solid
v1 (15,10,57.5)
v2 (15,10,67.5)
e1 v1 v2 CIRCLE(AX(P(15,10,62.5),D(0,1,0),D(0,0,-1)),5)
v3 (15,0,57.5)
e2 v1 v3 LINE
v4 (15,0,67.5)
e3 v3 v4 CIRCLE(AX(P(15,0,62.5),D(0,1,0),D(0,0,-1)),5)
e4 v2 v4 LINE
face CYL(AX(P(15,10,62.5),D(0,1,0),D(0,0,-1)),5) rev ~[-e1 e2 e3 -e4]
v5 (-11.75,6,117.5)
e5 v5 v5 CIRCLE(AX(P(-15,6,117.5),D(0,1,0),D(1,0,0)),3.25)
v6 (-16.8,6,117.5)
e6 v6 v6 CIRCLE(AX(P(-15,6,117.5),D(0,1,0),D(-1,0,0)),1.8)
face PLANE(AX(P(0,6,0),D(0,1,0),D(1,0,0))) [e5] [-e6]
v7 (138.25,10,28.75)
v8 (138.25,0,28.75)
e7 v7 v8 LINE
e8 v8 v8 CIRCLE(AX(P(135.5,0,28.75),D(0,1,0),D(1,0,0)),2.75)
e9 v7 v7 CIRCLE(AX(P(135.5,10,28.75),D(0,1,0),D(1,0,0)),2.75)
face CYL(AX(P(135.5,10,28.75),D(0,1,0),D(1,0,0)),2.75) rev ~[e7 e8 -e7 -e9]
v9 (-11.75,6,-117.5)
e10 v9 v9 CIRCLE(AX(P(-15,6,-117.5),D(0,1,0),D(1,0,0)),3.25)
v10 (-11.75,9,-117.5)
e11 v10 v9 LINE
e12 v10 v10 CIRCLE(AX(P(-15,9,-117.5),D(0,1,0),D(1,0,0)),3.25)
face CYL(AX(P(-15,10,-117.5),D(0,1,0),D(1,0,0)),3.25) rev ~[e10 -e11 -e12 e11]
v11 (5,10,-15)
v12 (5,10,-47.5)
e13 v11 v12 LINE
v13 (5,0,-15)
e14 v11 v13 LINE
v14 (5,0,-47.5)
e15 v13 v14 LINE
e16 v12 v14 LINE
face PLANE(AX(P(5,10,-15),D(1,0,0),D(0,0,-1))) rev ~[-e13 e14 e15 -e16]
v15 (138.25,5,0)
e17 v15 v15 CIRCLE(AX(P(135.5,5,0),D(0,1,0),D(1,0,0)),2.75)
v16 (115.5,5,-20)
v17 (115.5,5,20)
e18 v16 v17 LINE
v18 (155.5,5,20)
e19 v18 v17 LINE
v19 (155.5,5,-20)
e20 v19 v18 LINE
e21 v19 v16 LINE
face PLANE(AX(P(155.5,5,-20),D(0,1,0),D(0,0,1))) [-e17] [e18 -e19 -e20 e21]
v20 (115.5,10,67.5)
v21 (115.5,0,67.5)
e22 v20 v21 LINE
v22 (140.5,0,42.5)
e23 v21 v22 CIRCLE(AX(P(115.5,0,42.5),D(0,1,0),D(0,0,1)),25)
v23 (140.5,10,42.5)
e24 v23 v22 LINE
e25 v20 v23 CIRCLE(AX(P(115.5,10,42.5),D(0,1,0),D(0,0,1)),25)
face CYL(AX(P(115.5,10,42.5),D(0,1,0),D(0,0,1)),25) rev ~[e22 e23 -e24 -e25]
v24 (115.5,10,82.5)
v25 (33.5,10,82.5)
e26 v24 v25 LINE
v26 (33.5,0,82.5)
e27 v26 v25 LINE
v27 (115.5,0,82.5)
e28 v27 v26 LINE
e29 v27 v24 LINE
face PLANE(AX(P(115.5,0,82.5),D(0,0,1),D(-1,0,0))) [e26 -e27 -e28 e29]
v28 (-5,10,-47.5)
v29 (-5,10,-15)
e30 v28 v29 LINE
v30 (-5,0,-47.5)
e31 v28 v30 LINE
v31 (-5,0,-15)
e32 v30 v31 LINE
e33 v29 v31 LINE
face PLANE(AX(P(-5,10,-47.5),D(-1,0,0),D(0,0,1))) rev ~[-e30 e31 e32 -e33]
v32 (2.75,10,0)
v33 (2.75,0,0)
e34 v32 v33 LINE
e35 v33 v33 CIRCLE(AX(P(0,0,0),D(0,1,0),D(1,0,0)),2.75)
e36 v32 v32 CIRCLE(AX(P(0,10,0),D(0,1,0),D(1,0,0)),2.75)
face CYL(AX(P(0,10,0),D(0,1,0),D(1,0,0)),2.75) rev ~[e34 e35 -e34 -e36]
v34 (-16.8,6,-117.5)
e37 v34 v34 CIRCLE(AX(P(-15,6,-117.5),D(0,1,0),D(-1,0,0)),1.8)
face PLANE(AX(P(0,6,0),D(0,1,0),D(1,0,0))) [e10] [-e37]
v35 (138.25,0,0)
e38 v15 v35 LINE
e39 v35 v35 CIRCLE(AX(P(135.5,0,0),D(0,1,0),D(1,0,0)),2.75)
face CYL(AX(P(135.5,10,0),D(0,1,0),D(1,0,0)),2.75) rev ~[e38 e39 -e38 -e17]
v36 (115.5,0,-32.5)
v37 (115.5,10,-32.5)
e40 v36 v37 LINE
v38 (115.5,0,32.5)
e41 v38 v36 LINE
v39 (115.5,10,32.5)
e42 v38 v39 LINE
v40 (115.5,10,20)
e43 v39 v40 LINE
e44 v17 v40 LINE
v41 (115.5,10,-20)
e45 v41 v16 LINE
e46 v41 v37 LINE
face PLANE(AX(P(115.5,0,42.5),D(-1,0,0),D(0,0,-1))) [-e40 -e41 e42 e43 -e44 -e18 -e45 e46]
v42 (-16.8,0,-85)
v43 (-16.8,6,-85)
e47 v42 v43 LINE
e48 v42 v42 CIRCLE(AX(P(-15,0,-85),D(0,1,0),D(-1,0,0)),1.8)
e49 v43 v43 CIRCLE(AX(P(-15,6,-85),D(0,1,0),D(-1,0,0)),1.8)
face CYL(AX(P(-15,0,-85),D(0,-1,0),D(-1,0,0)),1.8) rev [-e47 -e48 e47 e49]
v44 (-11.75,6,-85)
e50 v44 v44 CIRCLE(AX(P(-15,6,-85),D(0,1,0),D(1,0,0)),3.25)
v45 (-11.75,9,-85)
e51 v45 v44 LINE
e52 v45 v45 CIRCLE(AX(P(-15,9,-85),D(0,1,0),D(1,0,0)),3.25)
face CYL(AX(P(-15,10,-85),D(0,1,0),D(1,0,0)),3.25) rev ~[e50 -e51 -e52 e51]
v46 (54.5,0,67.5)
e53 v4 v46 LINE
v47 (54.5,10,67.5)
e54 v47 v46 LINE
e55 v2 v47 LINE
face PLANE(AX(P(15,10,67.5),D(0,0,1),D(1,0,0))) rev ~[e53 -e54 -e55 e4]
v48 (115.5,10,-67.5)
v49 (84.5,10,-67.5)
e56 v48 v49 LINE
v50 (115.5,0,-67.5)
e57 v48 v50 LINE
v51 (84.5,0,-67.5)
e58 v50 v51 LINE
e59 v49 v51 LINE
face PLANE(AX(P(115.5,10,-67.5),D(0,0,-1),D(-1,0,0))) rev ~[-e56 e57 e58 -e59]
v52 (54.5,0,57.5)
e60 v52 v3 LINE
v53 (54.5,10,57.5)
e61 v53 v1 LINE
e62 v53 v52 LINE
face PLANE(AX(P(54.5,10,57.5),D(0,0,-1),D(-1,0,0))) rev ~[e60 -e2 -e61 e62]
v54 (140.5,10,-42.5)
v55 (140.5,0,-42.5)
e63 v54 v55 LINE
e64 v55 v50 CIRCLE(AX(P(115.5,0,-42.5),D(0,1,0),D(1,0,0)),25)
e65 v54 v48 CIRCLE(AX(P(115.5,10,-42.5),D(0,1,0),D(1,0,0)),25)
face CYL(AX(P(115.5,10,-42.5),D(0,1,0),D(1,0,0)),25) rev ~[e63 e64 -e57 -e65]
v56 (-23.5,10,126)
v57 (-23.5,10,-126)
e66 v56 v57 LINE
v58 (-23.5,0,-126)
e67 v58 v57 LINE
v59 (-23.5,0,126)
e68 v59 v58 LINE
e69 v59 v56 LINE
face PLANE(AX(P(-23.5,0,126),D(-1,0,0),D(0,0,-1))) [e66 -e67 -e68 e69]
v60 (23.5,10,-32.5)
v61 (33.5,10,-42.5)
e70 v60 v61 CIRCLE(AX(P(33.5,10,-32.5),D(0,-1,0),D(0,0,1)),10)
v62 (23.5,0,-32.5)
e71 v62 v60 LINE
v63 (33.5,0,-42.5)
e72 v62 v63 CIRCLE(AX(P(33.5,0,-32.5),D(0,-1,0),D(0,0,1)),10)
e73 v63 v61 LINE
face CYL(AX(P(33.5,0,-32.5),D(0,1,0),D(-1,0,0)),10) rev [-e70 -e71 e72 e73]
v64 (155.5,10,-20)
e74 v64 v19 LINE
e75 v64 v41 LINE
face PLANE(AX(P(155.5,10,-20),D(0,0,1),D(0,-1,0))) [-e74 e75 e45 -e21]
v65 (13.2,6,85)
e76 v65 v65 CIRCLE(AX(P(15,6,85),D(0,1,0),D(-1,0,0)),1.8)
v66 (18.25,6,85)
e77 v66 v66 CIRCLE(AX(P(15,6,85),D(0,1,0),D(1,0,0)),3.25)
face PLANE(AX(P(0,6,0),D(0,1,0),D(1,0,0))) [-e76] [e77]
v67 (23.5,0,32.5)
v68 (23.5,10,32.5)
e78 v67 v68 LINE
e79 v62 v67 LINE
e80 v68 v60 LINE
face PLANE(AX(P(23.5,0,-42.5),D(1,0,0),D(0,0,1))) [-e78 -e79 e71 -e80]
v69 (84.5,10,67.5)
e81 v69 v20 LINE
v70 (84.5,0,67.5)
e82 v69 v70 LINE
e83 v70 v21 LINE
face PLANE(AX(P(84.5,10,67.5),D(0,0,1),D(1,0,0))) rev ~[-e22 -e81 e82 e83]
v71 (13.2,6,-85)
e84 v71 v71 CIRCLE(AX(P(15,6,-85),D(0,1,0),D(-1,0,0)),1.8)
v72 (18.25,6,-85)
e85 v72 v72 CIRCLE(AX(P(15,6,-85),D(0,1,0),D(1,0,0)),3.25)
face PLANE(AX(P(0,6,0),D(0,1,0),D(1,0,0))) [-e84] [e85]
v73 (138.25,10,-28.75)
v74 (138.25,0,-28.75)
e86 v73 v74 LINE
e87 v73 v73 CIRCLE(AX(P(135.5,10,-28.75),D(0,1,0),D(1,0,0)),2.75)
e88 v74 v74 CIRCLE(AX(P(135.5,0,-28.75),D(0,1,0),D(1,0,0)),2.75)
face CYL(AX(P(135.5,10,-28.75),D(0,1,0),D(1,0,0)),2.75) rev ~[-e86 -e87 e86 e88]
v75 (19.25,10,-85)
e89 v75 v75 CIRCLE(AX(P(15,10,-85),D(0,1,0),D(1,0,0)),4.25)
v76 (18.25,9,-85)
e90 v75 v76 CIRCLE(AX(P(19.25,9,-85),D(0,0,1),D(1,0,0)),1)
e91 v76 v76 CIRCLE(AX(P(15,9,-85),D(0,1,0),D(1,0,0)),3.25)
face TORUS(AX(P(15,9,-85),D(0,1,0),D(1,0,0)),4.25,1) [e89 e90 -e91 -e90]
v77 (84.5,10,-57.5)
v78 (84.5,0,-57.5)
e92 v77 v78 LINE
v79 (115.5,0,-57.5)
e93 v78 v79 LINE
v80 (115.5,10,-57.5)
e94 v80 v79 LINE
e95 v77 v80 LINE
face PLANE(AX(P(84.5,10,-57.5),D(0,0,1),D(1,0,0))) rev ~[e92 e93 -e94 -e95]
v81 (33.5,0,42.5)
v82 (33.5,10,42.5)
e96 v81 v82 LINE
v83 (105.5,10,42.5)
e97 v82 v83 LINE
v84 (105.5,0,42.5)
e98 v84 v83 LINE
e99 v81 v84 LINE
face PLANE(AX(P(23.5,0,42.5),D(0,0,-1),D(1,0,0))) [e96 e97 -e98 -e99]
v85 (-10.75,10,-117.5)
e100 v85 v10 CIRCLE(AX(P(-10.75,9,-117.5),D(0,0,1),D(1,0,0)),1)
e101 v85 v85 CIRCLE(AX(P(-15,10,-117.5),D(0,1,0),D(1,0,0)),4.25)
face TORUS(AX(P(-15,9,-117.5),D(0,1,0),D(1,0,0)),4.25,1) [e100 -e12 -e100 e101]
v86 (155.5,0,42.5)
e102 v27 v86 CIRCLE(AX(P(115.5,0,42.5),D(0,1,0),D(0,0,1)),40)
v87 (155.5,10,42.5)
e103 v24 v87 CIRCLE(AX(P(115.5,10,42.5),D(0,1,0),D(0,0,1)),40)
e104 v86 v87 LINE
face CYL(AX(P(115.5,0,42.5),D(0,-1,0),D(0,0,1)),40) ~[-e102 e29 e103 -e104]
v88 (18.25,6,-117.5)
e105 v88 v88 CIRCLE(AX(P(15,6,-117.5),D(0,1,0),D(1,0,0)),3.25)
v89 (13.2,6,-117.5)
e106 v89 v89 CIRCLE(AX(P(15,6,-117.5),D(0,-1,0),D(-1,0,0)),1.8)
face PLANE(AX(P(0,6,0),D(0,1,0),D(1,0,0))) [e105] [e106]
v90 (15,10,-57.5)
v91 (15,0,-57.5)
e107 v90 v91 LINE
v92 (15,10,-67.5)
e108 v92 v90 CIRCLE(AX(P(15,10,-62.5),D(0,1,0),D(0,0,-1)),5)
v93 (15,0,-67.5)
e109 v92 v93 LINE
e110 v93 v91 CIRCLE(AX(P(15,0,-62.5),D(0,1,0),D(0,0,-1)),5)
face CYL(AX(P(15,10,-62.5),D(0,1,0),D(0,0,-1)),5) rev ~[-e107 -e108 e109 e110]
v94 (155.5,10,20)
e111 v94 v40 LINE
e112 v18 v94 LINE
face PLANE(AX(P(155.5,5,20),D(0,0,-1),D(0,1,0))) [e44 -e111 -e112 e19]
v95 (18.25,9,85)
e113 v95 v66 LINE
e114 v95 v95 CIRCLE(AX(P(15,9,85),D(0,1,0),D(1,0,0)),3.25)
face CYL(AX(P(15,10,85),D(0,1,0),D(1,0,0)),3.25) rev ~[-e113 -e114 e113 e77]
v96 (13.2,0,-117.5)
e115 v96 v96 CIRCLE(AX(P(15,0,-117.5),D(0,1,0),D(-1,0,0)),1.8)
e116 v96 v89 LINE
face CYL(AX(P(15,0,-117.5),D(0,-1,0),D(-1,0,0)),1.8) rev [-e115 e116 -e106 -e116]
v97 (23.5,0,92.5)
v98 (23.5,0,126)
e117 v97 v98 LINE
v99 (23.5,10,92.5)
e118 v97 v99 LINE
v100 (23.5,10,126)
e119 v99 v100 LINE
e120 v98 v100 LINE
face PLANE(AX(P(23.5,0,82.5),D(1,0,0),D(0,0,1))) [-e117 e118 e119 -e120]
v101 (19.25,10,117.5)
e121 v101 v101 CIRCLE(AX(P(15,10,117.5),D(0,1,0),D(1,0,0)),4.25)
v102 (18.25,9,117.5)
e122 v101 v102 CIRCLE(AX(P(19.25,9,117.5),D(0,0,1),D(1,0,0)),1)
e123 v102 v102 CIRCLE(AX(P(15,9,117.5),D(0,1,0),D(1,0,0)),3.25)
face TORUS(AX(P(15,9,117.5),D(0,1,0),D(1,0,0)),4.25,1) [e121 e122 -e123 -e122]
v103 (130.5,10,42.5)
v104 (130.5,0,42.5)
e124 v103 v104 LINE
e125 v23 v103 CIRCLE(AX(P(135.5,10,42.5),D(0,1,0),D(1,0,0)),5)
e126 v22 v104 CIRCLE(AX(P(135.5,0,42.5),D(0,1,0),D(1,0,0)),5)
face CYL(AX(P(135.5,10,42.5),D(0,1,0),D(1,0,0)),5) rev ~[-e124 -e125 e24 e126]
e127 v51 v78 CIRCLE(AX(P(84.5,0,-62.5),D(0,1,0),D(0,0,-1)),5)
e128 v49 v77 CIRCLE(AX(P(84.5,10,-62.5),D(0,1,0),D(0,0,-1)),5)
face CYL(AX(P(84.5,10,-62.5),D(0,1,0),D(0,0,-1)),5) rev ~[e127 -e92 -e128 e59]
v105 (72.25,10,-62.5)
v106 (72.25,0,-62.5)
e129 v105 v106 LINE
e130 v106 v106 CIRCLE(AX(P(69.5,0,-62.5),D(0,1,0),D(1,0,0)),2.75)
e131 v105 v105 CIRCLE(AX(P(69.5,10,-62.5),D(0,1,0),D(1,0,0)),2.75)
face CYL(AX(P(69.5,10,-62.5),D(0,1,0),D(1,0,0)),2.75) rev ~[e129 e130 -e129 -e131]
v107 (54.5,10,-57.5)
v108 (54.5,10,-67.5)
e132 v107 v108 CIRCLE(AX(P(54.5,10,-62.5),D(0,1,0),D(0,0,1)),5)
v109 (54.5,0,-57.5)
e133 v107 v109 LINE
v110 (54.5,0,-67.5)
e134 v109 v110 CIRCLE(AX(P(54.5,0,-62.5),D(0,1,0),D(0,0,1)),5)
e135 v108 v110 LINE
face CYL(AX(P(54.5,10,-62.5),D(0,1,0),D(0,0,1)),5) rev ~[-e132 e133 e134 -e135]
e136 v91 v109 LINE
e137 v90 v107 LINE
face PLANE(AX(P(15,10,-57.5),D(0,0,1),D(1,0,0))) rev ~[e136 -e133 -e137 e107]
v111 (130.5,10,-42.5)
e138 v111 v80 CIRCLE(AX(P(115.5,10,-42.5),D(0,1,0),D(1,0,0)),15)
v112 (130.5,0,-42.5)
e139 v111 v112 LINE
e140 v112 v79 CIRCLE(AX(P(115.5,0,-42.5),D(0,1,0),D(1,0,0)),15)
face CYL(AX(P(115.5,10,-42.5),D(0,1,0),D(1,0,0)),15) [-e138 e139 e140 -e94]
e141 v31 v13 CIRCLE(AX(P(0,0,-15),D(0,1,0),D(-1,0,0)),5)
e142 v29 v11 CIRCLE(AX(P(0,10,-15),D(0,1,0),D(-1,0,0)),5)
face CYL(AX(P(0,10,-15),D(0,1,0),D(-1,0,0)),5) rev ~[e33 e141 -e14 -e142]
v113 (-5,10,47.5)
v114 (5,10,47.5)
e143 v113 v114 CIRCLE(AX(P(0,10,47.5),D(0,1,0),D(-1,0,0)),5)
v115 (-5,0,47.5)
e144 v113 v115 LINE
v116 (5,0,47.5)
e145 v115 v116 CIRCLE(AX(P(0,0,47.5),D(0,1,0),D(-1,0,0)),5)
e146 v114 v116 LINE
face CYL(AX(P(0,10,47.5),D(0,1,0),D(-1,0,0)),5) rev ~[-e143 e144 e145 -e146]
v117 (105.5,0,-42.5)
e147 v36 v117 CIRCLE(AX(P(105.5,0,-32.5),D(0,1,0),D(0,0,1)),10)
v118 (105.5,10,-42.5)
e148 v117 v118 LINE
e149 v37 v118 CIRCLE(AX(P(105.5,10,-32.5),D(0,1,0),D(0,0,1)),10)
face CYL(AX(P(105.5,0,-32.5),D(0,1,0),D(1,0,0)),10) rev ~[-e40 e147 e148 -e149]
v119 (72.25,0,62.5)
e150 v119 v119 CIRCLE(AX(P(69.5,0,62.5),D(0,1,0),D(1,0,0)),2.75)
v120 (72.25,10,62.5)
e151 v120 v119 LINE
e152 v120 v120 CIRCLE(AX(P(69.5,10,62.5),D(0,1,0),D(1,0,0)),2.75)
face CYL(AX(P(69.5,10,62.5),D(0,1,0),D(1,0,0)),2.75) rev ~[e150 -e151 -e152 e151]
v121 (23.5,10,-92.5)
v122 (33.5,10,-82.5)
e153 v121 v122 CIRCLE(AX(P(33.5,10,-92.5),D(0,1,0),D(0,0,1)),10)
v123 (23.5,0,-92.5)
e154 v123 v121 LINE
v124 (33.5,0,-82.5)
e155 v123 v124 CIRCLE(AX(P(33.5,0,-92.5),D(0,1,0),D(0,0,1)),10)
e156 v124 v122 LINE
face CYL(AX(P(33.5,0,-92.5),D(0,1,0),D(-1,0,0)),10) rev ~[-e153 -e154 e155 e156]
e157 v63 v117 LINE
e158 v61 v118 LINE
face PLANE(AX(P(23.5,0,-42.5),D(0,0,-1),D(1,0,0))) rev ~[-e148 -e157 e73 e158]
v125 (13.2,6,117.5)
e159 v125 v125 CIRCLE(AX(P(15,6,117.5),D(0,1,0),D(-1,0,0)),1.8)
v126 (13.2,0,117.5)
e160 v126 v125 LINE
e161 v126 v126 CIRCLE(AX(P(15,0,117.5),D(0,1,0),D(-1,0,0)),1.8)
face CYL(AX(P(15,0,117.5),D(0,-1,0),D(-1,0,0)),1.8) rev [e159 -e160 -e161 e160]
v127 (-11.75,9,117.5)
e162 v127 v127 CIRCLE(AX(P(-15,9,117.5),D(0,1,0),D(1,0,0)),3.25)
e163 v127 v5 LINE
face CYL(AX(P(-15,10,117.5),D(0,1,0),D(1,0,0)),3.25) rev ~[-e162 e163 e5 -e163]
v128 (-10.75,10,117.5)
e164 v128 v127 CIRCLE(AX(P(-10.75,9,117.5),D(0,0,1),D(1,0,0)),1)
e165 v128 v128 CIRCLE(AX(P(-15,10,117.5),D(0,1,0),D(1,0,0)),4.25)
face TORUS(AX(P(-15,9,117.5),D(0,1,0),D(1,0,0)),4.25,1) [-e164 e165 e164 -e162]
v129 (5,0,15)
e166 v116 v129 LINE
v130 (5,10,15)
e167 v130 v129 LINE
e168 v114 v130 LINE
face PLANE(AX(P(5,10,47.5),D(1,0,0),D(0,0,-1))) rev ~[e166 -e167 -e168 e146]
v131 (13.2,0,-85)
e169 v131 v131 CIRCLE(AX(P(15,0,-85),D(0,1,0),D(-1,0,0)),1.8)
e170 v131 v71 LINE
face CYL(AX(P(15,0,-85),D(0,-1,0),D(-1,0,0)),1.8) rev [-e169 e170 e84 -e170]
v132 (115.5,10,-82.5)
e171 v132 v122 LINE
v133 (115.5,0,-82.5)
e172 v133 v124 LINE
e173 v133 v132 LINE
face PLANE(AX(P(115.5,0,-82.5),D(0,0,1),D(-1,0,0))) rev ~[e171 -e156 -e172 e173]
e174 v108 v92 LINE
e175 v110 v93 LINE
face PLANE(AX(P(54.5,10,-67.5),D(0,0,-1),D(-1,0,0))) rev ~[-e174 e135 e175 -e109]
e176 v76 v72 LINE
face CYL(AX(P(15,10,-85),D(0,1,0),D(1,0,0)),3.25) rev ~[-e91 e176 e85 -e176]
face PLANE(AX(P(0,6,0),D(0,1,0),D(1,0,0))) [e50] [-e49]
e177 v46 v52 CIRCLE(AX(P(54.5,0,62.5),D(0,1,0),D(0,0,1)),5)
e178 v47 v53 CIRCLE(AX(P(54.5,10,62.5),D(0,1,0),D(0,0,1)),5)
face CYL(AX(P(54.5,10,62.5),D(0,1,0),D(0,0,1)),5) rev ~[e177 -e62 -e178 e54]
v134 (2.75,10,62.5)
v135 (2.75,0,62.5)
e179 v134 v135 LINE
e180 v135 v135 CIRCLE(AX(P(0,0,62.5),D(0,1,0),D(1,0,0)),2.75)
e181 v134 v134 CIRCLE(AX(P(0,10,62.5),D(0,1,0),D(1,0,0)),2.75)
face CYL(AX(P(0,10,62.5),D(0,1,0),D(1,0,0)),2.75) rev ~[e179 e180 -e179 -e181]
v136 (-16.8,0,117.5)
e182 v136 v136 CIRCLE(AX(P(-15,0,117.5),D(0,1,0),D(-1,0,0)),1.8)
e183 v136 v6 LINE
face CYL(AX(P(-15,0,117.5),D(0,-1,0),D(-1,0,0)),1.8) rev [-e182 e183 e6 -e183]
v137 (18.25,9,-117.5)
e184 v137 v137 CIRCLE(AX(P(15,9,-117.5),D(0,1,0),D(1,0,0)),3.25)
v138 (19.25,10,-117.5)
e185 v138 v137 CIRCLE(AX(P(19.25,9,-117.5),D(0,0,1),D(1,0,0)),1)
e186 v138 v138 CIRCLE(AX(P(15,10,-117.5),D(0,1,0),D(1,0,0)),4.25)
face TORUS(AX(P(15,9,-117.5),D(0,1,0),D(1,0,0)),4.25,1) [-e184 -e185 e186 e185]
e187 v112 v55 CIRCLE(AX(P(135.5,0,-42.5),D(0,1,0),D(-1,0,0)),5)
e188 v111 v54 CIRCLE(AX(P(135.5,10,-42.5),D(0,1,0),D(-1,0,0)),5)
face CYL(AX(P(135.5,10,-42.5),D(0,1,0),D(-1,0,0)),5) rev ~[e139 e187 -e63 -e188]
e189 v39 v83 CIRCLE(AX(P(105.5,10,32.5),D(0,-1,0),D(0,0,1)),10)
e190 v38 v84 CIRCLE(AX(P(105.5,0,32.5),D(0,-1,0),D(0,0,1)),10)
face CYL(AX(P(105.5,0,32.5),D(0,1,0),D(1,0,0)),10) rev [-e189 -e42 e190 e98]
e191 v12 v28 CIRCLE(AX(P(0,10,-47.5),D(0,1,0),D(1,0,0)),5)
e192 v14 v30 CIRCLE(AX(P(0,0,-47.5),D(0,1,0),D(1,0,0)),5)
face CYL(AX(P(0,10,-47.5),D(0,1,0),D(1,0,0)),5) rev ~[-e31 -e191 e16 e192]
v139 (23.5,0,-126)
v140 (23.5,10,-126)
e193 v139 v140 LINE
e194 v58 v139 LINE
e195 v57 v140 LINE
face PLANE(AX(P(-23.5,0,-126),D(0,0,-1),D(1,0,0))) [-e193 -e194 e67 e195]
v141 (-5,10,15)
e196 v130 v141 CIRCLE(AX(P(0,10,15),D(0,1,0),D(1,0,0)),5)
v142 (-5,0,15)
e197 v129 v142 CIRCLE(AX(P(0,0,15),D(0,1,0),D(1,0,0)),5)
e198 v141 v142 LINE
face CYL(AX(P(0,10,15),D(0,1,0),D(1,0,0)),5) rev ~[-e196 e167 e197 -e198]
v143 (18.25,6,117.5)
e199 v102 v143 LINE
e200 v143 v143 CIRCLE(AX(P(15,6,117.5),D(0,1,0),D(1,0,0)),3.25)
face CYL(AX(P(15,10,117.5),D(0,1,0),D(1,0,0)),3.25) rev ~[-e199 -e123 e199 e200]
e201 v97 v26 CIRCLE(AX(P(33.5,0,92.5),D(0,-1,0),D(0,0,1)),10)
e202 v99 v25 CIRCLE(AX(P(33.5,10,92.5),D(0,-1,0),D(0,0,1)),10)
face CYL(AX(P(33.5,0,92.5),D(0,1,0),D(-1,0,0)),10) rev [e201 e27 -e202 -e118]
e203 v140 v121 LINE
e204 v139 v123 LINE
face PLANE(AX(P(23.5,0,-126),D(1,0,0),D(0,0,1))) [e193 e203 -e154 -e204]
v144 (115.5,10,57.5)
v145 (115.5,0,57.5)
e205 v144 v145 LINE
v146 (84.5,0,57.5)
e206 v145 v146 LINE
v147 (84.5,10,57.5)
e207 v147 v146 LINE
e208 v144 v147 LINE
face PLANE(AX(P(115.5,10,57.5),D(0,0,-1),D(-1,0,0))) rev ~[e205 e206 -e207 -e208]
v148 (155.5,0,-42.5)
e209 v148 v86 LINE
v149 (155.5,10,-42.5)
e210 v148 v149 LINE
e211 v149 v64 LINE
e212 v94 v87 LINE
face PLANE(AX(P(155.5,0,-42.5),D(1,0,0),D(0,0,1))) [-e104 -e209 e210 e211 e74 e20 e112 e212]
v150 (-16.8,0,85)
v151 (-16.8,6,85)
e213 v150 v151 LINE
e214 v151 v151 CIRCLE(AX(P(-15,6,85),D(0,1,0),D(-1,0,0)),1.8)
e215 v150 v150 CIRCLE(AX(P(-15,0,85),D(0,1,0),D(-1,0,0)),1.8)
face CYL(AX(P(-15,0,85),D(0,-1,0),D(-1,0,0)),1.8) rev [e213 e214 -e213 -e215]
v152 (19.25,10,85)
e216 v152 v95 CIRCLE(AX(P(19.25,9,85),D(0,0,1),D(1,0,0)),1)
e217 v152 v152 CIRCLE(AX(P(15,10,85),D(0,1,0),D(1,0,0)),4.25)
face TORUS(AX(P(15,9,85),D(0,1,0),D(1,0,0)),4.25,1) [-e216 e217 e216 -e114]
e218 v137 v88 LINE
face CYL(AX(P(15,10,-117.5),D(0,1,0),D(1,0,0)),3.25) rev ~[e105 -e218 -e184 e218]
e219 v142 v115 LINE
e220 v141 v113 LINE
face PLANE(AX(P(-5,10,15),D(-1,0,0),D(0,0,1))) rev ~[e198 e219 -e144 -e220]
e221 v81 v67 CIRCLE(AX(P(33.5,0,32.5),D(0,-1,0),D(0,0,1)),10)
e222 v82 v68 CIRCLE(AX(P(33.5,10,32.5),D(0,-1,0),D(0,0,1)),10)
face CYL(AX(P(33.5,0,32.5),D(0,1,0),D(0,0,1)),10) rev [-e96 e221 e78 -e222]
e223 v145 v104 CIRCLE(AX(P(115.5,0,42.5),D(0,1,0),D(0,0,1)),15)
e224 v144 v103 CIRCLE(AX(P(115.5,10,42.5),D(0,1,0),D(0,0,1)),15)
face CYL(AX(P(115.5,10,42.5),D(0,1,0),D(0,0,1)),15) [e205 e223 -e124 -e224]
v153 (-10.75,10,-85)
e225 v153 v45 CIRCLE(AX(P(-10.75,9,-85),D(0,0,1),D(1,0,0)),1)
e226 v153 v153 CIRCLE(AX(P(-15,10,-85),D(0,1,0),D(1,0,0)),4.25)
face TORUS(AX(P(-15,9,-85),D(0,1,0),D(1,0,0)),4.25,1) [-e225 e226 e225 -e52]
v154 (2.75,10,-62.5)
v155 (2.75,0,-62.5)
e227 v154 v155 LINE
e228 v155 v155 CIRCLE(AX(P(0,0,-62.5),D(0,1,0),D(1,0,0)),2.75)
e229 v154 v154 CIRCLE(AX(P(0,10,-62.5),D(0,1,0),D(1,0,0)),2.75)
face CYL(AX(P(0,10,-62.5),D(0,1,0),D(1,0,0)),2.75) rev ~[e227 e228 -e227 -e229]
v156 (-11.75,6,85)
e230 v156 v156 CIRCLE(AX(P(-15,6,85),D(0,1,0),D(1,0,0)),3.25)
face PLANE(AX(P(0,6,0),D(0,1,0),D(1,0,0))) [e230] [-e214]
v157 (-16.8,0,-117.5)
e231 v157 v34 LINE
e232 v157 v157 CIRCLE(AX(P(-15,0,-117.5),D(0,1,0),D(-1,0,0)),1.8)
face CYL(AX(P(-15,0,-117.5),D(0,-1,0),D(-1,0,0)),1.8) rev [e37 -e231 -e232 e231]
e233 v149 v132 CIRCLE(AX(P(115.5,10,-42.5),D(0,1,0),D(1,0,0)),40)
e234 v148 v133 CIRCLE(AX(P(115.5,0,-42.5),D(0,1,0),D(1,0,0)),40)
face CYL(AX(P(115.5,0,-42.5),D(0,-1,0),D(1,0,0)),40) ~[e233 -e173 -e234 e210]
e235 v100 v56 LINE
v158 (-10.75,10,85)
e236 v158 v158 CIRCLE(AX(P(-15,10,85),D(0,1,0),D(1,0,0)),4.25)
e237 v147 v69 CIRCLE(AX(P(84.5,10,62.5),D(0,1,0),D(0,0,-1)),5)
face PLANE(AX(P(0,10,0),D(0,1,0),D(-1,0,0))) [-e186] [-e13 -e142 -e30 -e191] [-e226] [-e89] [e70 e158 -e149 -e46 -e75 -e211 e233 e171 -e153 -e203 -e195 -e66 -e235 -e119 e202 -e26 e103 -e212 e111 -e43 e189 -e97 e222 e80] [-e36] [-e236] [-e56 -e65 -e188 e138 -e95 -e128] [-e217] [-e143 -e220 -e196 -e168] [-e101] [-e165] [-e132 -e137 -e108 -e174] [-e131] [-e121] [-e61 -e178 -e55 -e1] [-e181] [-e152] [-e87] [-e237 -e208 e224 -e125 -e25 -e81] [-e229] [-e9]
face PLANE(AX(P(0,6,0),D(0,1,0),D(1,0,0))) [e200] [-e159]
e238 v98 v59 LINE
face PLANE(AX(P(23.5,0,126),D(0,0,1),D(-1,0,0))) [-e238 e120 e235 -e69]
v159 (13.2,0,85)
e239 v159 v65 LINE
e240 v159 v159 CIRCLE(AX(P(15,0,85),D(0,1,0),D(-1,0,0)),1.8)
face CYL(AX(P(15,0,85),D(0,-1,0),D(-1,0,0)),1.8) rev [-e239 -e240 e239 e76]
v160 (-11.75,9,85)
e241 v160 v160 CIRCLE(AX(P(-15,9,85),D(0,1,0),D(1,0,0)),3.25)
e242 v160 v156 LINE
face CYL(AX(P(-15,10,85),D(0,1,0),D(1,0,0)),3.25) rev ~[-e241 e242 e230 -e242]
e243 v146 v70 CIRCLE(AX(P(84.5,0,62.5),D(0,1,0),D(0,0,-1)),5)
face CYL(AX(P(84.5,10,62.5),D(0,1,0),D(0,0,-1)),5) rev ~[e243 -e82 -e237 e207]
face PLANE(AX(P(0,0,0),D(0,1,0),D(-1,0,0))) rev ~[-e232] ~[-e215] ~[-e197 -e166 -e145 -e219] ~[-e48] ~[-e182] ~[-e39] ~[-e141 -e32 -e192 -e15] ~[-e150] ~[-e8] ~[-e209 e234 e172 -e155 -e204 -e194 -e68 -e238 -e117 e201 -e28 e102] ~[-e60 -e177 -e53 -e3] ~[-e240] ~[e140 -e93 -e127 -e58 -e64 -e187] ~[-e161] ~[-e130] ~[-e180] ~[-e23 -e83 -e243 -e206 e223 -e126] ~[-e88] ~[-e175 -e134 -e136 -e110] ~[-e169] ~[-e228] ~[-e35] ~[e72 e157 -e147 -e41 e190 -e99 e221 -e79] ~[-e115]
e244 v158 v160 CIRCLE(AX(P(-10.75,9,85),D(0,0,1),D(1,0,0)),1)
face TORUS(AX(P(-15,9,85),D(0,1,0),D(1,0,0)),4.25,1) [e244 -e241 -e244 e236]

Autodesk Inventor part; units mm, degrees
ref_plane "YZ Plane" through (0, 0, 0) normal (1, 0, 0) x (0, 1, 0)
ref_plane "XZ Plane" through (0, 0, 0) normal (0, 1, 0) x (-1, 0, 0)
ref_plane "XY Plane" through (0, 0, 0) normal (0, 0, 1) x (1, 0, 0)
sketch "Sketch1" plane through (0, 0, 0) normal (0, 1, 0) x (-1, 0, 0)
  line L0 (-23.5, 126) -> (23.5, 126)
  line L1 (23.5, 126) -> (23.5, -126)
  line L2 (23.5, -126) -> (-23.5, -126)
  line L3 (-23.5, -126) -> (-23.5, 126)
  line L4 (-23.5, 22.5) -> (-23.5, 62.5)
  line L5 (23.5, 0) -> (-23.5, 0) construction
  line L6 (-23.5, -82.5) -> (-23.5, -42.5)
  line L7 (-23.5, 82.5) -> (-23.5, 42.5)
  line L8 (-23.5, -42.5) -> (-115.5, -42.5)
  line L9 (-115.5, -42.5) -> (-115.5, -82.5)
  line L10 (-115.5, -82.5) -> (-23.5, -82.5)
  line L11 (-23.5, -82.5) -> (-23.5, -42.5)
  line L12 (-23.5, 42.5) -> (-115.5, 42.5)
  line L13 (-115.5, 42.5) -> (-115.5, 82.5)
  line L14 (-115.5, 82.5) -> (-23.5, 82.5)
  line L15 (-23.5, 82.5) -> (-23.5, 42.5)
  arc A0 (-155.5, -42.5) -> (-115.5, -82.5) centre (-115.5, -42.5) ccw
  arc A1 (-115.5, 82.5) -> (-155.5, 42.5) centre (-115.5, 42.5) ccw
  line L16 (-115.5, -42.5) -> (-155.5, -42.5)
  line L17 (-155.5, -42.5) -> (-155.5, 42.5)
  line L18 (-155.5, 42.5) -> (-115.5, 42.5)
  line L19 (-115.5, 42.5) -> (-115.5, -42.5)
  circle A2 centre (15, -117.5) radius 1.8
  circle A3 centre (-15, -117.5) radius 1.8
  circle A4 centre (15, -85) radius 1.8
  circle A5 centre (-15, -85) radius 1.8
  circle A6 centre (15, 117.5) radius 1.8
  circle A7 centre (-15, 117.5) radius 1.8
  circle A8 centre (15, 85) radius 1.8
  circle A9 centre (-15, 85) radius 1.8
  point P0 (0, 0)
  point P1 (-23.5, -62.5)
  dimension "d0" = 47
  dimension "d1" = 252
  dimension "d8" = 92
  dimension "d9" = 40
  dimension "d10" = 92
  dimension "d11" = 40
  dimension "d12" = 3.6
  dimension "d13" = 3.6
  dimension "d14" = 3.6
  dimension "d15" = 3.6
extrude "Extrusion1" add sketch "Sketch1" along normal blind 10 contours L0 L1 L2 L3 | L3 L12 L13 L14 | L13 L18 A1 | L19 L16 L17 L18 | L10 L9 L8 L3 | L9 A0 L16
sketch "Sketch2" plane through (0, 10, 0) normal (0, 1, 0) x (1, 0, 0)
  circle A0 centre (15, 117.5) radius 1.8 projected
  circle A1 centre (15, 117.5) radius 3.25
  circle A2 centre (15, 85) radius 1.8 projected
  circle A3 centre (15, 85) radius 3.25
  circle A4 centre (-15, 85) radius 1.8 projected
  circle A5 centre (-15, 85) radius 3.25
  circle A6 centre (-15, 117.5) radius 1.8 projected
  circle A7 centre (-15, 117.5) radius 3.25
  circle A8 centre (15, -85) radius 1.8 projected
  circle A9 centre (15, -85) radius 3.25
  circle A10 centre (-15, -85) radius 1.8 projected
  circle A11 centre (-15, -85) radius 3.25
  circle A12 centre (-15, -117.5) radius 1.8 projected
  circle A13 centre (-15, -117.5) radius 3.25
  circle A14 centre (15, -117.5) radius 1.8 projected
  circle A15 centre (15, -117.5) radius 3.25
  point P0 (0, 0)
  dimension "d18" = 6.5
  dimension "d19" = 6.5
  dimension "d20" = 6.5
  dimension "d21" = 6.5
  dimension "d22" = 6.5
  dimension "d23" = 6.5
  dimension "d24" = 6.5
  dimension "d25" = 6.5
extrude "Extrusion2" cut sketch "Sketch2" against normal blind 4 contours A0 | A1 | A3 | A5 | A7 | A9 | A11 | A13 | A15
fillet "Fillet1" radius 1 8 edges at (-18.25, 10, -117.5) (11.75, 10, -117.5) (-18.25, 10, -85) (11.75, 10, -85) (-18.25, 10, 85) (11.75, 10, 85) (11.75, 10, 117.5) (-18.25, 10, 117.5)
sketch "Sketch3" plane through (155.5, 0, 42.5) normal (1, 0, 0) x (0, 0, -1)
  line L0 (85, 10) -> (0, 10) construction
  line L1 (0, 0) -> (85, 0) projected
  line L2 (22.5, 10) -> (62.5, 10)
  line L3 (62.5, 10) -> (62.5, 5)
  line L4 (62.5, 5) -> (22.5, 5)
  line L5 (22.5, 5) -> (22.5, 10)
  point P0 (42.5, 0)
  dimension "d33" = 40
  dimension "d34" = 5
extrude "Extrusion3" cut sketch "Sketch3" against normal blind 40
sketch "Sketch4" plane through (0, 10, 0) normal (0, 1, 0) x (1, 0, 0)
  line L0 (-23.5, 126) -> (-23.5, -126) construction
  line L1 (-23.5, 0) -> (155.5, 0) construction
  line L2 (155.5, -42.5) -> (155.5, 42.5) construction
  line L3 (135.5, -82.5) -> (135.5, 82.5) construction
  line L4 (0, -82.5) -> (0, 82.5) construction
  line L5 (-23.5, 62.5) -> (155.5, 62.5) construction
  line L6 (-23.5, -62.5) -> (155.5, -62.5) construction
  circle A0 centre (0, 0) radius 2.75
  circle A1 centre (69.5, -62.5) radius 2.75
  circle A2 centre (135.5, 0) radius 2.75
  circle A3 centre (69.5, 62.5) radius 2.75
  circle A4 centre (0, 62.5) radius 2.75
  circle A5 centre (0, -62.5) radius 2.75
  dimension "d35" = 5.5
  dimension "d36" = 5.5
  dimension "d37" = 5.5
  dimension "d38" = 5.5
  dimension "d39" = 5.5
  dimension "d40" = 5.5
extrude "Extrusion4" cut sketch "Sketch4" against normal through all
fillet "Fillet2" radius 10 6 edges at (23.5, 5, -42.5) (115.5, 5, -42.5) (23.5, 5, 42.5) (115.5, 5, 42.5) (23.5, 5, -82.5) (23.5, 5, 82.5)
sketch "Sketch5" plane through (0, 10, 0) normal (0, 1, 0) x (1, 0, 0)
  line L0 (-23.5, 126) -> (-23.5, -126) construction
  line L1 (-23.5, 0) -> (155.5, 0) construction
  line L2 (155.5, -42.5) -> (155.5, 42.5) construction
  arc A0 (155.5, 42.5) -> (115.5, 82.5) centre (115.5, 42.5) ccw construction
  line L3 (115.5, 82.5) -> (115.5, 42.5) construction
  line L4 (115.5, 42.5) -> (155.5, 42.5) construction
  line L5 (155.5, -42.5) -> (115.5, -42.5) construction
  arc A1 (115.5, -82.5) -> (155.5, -42.5) centre (115.5, -42.5) ccw construction
  line L6 (115.5, -42.5) -> (115.5, -82.5) construction
  line L7 (135.5, -35) -> (135.5, -62.5) construction
  line L8 (135.5, -62.5) -> (84.5, -62.5) construction
  line L9 (135.5, 35) -> (135.5, 62.5) construction
  line L10 (135.5, 62.5) -> (84.5, 62.5) construction
  arc A2 (135.5, 42.5) -> (115.5, 62.5) centre (115.5, 42.5) ccw construction
  arc A3 (140.5, 42.5) -> (115.5, 67.5) centre (115.5, 42.5) ccw
  arc A4 (130.5, 42.5) -> (115.5, 57.5) centre (115.5, 42.5) ccw
  arc A5 (130.5, 42.5) -> (140.5, 42.5) centre (135.5, 42.5) ccw
  arc A6 (115.5, 67.5) -> (115.5, 57.5) centre (115.5, 62.5) ccw
  arc A7 (115.5, -62.5) -> (135.5, -42.5) centre (115.5, -42.5) ccw construction
  arc A8 (115.5, -67.5) -> (140.5, -42.5) centre (115.5, -42.5) ccw
  arc A9 (115.5, -57.5) -> (130.5, -42.5) centre (115.5, -42.5) ccw
  arc A10 (115.5, -57.5) -> (115.5, -67.5) centre (115.5, -62.5) ccw
  arc A11 (140.5, -42.5) -> (130.5, -42.5) centre (135.5, -42.5) ccw
  line L11 (84.5, -62.5) -> (115.5, -62.5) construction
  line L12 (84.5, -67.5) -> (115.5, -67.5)
  line L13 (115.5, -57.5) -> (84.5, -57.5)
  arc A12 (84.5, -57.5) -> (84.5, -67.5) centre (84.5, -62.5) ccw
  arc A13 (115.5, -67.5) -> (115.5, -57.5) centre (115.5, -62.5) ccw
  line L14 (84.5, 62.5) -> (115.5, 62.5) construction
  line L15 (84.5, 57.5) -> (115.5, 57.5)
  line L16 (115.5, 67.5) -> (84.5, 67.5)
  arc A14 (84.5, 67.5) -> (84.5, 57.5) centre (84.5, 62.5) ccw
  arc A15 (115.5, 57.5) -> (115.5, 67.5) centre (115.5, 62.5) ccw
  line L17 (15, 62.5) -> (54.5, 62.5) construction
  line L18 (15, 57.5) -> (54.5, 57.5)
  line L19 (54.5, 67.5) -> (15, 67.5)
  arc A16 (15, 67.5) -> (15, 57.5) centre (15, 62.5) ccw
  arc A17 (54.5, 57.5) -> (54.5, 67.5) centre (54.5, 62.5) ccw
  line L20 (15, -62.5) -> (54.5, -62.5) construction
  line L21 (15, -67.5) -> (54.5, -67.5)
  line L22 (54.5, -57.5) -> (15, -57.5)
  arc A18 (15, -57.5) -> (15, -67.5) centre (15, -62.5) ccw
  arc A19 (54.5, -67.5) -> (54.5, -57.5) centre (54.5, -62.5) ccw
  line L23 (0, -15) -> (0, -47.5) construction
  line L24 (-5, -15) -> (-5, -47.5)
  line L25 (5, -47.5) -> (5, -15)
  arc A20 (5, -15) -> (-5, -15) centre (0, -15) ccw
  arc A21 (-5, -47.5) -> (5, -47.5) centre (0, -47.5) ccw
  line L26 (0, 15) -> (0, 47.5) construction
  line L27 (23.5, -32.5) -> (23.5, 32.5) projected
  line L28 (5, 15) -> (5, 47.5)
  line L29 (-5, 47.5) -> (-5, 15)
  arc A22 (-5, 15) -> (5, 15) centre (0, 15) ccw
  arc A23 (5, 47.5) -> (-5, 47.5) centre (0, 47.5) ccw
  point P0 (0, 0)
  point P1 (100, -62.5)
  point P2 (100, 62.5)
  point P3 (34.75, 62.5)
  point P4 (34.75, -62.5)
  point P5 (0, -31.25)
  point P6 (0, 31.25)
  dimension "d44" = 10
  dimension "d45" = 10
  dimension "d46" = 10
  dimension "d47" = 10
  dimension "d48" = 10
  dimension "d49" = 10
extrude "Extrusion5" cut sketch "Sketch5" against normal blind 10
sketch "Sketch6" plane through (0, 10, 0) normal (0, 1, 0) x (1, 0, 0)
  point P0 (0, 0)
  point P1 (0, 85)
sketch "Sketch7" plane through (0, 10, 0) normal (0, 1, 0) x (1, 0, 0)
  circle A0 centre (135.5, 28.75) radius 2.75
  line L0 (115.5, 32.5) -> (115.5, -32.5) construction
  line L1 (115.5, 0) -> (155.5, 0) construction
  line L2 (155.5, -42.5) -> (155.5, 42.5) construction
  circle A1 centre (135.5, -28.75) radius 2.75
  point P0 (0, 0)
  dimension "d52" = 5.5
  dimension "d53" = 5.5
extrude "Extrusion6" cut sketch "Sketch7" against normal blind 10
equation "\"d50\" = d48"
equation "\"d54\" = d48"
properties part number "Chassis Rear Spine 2"
